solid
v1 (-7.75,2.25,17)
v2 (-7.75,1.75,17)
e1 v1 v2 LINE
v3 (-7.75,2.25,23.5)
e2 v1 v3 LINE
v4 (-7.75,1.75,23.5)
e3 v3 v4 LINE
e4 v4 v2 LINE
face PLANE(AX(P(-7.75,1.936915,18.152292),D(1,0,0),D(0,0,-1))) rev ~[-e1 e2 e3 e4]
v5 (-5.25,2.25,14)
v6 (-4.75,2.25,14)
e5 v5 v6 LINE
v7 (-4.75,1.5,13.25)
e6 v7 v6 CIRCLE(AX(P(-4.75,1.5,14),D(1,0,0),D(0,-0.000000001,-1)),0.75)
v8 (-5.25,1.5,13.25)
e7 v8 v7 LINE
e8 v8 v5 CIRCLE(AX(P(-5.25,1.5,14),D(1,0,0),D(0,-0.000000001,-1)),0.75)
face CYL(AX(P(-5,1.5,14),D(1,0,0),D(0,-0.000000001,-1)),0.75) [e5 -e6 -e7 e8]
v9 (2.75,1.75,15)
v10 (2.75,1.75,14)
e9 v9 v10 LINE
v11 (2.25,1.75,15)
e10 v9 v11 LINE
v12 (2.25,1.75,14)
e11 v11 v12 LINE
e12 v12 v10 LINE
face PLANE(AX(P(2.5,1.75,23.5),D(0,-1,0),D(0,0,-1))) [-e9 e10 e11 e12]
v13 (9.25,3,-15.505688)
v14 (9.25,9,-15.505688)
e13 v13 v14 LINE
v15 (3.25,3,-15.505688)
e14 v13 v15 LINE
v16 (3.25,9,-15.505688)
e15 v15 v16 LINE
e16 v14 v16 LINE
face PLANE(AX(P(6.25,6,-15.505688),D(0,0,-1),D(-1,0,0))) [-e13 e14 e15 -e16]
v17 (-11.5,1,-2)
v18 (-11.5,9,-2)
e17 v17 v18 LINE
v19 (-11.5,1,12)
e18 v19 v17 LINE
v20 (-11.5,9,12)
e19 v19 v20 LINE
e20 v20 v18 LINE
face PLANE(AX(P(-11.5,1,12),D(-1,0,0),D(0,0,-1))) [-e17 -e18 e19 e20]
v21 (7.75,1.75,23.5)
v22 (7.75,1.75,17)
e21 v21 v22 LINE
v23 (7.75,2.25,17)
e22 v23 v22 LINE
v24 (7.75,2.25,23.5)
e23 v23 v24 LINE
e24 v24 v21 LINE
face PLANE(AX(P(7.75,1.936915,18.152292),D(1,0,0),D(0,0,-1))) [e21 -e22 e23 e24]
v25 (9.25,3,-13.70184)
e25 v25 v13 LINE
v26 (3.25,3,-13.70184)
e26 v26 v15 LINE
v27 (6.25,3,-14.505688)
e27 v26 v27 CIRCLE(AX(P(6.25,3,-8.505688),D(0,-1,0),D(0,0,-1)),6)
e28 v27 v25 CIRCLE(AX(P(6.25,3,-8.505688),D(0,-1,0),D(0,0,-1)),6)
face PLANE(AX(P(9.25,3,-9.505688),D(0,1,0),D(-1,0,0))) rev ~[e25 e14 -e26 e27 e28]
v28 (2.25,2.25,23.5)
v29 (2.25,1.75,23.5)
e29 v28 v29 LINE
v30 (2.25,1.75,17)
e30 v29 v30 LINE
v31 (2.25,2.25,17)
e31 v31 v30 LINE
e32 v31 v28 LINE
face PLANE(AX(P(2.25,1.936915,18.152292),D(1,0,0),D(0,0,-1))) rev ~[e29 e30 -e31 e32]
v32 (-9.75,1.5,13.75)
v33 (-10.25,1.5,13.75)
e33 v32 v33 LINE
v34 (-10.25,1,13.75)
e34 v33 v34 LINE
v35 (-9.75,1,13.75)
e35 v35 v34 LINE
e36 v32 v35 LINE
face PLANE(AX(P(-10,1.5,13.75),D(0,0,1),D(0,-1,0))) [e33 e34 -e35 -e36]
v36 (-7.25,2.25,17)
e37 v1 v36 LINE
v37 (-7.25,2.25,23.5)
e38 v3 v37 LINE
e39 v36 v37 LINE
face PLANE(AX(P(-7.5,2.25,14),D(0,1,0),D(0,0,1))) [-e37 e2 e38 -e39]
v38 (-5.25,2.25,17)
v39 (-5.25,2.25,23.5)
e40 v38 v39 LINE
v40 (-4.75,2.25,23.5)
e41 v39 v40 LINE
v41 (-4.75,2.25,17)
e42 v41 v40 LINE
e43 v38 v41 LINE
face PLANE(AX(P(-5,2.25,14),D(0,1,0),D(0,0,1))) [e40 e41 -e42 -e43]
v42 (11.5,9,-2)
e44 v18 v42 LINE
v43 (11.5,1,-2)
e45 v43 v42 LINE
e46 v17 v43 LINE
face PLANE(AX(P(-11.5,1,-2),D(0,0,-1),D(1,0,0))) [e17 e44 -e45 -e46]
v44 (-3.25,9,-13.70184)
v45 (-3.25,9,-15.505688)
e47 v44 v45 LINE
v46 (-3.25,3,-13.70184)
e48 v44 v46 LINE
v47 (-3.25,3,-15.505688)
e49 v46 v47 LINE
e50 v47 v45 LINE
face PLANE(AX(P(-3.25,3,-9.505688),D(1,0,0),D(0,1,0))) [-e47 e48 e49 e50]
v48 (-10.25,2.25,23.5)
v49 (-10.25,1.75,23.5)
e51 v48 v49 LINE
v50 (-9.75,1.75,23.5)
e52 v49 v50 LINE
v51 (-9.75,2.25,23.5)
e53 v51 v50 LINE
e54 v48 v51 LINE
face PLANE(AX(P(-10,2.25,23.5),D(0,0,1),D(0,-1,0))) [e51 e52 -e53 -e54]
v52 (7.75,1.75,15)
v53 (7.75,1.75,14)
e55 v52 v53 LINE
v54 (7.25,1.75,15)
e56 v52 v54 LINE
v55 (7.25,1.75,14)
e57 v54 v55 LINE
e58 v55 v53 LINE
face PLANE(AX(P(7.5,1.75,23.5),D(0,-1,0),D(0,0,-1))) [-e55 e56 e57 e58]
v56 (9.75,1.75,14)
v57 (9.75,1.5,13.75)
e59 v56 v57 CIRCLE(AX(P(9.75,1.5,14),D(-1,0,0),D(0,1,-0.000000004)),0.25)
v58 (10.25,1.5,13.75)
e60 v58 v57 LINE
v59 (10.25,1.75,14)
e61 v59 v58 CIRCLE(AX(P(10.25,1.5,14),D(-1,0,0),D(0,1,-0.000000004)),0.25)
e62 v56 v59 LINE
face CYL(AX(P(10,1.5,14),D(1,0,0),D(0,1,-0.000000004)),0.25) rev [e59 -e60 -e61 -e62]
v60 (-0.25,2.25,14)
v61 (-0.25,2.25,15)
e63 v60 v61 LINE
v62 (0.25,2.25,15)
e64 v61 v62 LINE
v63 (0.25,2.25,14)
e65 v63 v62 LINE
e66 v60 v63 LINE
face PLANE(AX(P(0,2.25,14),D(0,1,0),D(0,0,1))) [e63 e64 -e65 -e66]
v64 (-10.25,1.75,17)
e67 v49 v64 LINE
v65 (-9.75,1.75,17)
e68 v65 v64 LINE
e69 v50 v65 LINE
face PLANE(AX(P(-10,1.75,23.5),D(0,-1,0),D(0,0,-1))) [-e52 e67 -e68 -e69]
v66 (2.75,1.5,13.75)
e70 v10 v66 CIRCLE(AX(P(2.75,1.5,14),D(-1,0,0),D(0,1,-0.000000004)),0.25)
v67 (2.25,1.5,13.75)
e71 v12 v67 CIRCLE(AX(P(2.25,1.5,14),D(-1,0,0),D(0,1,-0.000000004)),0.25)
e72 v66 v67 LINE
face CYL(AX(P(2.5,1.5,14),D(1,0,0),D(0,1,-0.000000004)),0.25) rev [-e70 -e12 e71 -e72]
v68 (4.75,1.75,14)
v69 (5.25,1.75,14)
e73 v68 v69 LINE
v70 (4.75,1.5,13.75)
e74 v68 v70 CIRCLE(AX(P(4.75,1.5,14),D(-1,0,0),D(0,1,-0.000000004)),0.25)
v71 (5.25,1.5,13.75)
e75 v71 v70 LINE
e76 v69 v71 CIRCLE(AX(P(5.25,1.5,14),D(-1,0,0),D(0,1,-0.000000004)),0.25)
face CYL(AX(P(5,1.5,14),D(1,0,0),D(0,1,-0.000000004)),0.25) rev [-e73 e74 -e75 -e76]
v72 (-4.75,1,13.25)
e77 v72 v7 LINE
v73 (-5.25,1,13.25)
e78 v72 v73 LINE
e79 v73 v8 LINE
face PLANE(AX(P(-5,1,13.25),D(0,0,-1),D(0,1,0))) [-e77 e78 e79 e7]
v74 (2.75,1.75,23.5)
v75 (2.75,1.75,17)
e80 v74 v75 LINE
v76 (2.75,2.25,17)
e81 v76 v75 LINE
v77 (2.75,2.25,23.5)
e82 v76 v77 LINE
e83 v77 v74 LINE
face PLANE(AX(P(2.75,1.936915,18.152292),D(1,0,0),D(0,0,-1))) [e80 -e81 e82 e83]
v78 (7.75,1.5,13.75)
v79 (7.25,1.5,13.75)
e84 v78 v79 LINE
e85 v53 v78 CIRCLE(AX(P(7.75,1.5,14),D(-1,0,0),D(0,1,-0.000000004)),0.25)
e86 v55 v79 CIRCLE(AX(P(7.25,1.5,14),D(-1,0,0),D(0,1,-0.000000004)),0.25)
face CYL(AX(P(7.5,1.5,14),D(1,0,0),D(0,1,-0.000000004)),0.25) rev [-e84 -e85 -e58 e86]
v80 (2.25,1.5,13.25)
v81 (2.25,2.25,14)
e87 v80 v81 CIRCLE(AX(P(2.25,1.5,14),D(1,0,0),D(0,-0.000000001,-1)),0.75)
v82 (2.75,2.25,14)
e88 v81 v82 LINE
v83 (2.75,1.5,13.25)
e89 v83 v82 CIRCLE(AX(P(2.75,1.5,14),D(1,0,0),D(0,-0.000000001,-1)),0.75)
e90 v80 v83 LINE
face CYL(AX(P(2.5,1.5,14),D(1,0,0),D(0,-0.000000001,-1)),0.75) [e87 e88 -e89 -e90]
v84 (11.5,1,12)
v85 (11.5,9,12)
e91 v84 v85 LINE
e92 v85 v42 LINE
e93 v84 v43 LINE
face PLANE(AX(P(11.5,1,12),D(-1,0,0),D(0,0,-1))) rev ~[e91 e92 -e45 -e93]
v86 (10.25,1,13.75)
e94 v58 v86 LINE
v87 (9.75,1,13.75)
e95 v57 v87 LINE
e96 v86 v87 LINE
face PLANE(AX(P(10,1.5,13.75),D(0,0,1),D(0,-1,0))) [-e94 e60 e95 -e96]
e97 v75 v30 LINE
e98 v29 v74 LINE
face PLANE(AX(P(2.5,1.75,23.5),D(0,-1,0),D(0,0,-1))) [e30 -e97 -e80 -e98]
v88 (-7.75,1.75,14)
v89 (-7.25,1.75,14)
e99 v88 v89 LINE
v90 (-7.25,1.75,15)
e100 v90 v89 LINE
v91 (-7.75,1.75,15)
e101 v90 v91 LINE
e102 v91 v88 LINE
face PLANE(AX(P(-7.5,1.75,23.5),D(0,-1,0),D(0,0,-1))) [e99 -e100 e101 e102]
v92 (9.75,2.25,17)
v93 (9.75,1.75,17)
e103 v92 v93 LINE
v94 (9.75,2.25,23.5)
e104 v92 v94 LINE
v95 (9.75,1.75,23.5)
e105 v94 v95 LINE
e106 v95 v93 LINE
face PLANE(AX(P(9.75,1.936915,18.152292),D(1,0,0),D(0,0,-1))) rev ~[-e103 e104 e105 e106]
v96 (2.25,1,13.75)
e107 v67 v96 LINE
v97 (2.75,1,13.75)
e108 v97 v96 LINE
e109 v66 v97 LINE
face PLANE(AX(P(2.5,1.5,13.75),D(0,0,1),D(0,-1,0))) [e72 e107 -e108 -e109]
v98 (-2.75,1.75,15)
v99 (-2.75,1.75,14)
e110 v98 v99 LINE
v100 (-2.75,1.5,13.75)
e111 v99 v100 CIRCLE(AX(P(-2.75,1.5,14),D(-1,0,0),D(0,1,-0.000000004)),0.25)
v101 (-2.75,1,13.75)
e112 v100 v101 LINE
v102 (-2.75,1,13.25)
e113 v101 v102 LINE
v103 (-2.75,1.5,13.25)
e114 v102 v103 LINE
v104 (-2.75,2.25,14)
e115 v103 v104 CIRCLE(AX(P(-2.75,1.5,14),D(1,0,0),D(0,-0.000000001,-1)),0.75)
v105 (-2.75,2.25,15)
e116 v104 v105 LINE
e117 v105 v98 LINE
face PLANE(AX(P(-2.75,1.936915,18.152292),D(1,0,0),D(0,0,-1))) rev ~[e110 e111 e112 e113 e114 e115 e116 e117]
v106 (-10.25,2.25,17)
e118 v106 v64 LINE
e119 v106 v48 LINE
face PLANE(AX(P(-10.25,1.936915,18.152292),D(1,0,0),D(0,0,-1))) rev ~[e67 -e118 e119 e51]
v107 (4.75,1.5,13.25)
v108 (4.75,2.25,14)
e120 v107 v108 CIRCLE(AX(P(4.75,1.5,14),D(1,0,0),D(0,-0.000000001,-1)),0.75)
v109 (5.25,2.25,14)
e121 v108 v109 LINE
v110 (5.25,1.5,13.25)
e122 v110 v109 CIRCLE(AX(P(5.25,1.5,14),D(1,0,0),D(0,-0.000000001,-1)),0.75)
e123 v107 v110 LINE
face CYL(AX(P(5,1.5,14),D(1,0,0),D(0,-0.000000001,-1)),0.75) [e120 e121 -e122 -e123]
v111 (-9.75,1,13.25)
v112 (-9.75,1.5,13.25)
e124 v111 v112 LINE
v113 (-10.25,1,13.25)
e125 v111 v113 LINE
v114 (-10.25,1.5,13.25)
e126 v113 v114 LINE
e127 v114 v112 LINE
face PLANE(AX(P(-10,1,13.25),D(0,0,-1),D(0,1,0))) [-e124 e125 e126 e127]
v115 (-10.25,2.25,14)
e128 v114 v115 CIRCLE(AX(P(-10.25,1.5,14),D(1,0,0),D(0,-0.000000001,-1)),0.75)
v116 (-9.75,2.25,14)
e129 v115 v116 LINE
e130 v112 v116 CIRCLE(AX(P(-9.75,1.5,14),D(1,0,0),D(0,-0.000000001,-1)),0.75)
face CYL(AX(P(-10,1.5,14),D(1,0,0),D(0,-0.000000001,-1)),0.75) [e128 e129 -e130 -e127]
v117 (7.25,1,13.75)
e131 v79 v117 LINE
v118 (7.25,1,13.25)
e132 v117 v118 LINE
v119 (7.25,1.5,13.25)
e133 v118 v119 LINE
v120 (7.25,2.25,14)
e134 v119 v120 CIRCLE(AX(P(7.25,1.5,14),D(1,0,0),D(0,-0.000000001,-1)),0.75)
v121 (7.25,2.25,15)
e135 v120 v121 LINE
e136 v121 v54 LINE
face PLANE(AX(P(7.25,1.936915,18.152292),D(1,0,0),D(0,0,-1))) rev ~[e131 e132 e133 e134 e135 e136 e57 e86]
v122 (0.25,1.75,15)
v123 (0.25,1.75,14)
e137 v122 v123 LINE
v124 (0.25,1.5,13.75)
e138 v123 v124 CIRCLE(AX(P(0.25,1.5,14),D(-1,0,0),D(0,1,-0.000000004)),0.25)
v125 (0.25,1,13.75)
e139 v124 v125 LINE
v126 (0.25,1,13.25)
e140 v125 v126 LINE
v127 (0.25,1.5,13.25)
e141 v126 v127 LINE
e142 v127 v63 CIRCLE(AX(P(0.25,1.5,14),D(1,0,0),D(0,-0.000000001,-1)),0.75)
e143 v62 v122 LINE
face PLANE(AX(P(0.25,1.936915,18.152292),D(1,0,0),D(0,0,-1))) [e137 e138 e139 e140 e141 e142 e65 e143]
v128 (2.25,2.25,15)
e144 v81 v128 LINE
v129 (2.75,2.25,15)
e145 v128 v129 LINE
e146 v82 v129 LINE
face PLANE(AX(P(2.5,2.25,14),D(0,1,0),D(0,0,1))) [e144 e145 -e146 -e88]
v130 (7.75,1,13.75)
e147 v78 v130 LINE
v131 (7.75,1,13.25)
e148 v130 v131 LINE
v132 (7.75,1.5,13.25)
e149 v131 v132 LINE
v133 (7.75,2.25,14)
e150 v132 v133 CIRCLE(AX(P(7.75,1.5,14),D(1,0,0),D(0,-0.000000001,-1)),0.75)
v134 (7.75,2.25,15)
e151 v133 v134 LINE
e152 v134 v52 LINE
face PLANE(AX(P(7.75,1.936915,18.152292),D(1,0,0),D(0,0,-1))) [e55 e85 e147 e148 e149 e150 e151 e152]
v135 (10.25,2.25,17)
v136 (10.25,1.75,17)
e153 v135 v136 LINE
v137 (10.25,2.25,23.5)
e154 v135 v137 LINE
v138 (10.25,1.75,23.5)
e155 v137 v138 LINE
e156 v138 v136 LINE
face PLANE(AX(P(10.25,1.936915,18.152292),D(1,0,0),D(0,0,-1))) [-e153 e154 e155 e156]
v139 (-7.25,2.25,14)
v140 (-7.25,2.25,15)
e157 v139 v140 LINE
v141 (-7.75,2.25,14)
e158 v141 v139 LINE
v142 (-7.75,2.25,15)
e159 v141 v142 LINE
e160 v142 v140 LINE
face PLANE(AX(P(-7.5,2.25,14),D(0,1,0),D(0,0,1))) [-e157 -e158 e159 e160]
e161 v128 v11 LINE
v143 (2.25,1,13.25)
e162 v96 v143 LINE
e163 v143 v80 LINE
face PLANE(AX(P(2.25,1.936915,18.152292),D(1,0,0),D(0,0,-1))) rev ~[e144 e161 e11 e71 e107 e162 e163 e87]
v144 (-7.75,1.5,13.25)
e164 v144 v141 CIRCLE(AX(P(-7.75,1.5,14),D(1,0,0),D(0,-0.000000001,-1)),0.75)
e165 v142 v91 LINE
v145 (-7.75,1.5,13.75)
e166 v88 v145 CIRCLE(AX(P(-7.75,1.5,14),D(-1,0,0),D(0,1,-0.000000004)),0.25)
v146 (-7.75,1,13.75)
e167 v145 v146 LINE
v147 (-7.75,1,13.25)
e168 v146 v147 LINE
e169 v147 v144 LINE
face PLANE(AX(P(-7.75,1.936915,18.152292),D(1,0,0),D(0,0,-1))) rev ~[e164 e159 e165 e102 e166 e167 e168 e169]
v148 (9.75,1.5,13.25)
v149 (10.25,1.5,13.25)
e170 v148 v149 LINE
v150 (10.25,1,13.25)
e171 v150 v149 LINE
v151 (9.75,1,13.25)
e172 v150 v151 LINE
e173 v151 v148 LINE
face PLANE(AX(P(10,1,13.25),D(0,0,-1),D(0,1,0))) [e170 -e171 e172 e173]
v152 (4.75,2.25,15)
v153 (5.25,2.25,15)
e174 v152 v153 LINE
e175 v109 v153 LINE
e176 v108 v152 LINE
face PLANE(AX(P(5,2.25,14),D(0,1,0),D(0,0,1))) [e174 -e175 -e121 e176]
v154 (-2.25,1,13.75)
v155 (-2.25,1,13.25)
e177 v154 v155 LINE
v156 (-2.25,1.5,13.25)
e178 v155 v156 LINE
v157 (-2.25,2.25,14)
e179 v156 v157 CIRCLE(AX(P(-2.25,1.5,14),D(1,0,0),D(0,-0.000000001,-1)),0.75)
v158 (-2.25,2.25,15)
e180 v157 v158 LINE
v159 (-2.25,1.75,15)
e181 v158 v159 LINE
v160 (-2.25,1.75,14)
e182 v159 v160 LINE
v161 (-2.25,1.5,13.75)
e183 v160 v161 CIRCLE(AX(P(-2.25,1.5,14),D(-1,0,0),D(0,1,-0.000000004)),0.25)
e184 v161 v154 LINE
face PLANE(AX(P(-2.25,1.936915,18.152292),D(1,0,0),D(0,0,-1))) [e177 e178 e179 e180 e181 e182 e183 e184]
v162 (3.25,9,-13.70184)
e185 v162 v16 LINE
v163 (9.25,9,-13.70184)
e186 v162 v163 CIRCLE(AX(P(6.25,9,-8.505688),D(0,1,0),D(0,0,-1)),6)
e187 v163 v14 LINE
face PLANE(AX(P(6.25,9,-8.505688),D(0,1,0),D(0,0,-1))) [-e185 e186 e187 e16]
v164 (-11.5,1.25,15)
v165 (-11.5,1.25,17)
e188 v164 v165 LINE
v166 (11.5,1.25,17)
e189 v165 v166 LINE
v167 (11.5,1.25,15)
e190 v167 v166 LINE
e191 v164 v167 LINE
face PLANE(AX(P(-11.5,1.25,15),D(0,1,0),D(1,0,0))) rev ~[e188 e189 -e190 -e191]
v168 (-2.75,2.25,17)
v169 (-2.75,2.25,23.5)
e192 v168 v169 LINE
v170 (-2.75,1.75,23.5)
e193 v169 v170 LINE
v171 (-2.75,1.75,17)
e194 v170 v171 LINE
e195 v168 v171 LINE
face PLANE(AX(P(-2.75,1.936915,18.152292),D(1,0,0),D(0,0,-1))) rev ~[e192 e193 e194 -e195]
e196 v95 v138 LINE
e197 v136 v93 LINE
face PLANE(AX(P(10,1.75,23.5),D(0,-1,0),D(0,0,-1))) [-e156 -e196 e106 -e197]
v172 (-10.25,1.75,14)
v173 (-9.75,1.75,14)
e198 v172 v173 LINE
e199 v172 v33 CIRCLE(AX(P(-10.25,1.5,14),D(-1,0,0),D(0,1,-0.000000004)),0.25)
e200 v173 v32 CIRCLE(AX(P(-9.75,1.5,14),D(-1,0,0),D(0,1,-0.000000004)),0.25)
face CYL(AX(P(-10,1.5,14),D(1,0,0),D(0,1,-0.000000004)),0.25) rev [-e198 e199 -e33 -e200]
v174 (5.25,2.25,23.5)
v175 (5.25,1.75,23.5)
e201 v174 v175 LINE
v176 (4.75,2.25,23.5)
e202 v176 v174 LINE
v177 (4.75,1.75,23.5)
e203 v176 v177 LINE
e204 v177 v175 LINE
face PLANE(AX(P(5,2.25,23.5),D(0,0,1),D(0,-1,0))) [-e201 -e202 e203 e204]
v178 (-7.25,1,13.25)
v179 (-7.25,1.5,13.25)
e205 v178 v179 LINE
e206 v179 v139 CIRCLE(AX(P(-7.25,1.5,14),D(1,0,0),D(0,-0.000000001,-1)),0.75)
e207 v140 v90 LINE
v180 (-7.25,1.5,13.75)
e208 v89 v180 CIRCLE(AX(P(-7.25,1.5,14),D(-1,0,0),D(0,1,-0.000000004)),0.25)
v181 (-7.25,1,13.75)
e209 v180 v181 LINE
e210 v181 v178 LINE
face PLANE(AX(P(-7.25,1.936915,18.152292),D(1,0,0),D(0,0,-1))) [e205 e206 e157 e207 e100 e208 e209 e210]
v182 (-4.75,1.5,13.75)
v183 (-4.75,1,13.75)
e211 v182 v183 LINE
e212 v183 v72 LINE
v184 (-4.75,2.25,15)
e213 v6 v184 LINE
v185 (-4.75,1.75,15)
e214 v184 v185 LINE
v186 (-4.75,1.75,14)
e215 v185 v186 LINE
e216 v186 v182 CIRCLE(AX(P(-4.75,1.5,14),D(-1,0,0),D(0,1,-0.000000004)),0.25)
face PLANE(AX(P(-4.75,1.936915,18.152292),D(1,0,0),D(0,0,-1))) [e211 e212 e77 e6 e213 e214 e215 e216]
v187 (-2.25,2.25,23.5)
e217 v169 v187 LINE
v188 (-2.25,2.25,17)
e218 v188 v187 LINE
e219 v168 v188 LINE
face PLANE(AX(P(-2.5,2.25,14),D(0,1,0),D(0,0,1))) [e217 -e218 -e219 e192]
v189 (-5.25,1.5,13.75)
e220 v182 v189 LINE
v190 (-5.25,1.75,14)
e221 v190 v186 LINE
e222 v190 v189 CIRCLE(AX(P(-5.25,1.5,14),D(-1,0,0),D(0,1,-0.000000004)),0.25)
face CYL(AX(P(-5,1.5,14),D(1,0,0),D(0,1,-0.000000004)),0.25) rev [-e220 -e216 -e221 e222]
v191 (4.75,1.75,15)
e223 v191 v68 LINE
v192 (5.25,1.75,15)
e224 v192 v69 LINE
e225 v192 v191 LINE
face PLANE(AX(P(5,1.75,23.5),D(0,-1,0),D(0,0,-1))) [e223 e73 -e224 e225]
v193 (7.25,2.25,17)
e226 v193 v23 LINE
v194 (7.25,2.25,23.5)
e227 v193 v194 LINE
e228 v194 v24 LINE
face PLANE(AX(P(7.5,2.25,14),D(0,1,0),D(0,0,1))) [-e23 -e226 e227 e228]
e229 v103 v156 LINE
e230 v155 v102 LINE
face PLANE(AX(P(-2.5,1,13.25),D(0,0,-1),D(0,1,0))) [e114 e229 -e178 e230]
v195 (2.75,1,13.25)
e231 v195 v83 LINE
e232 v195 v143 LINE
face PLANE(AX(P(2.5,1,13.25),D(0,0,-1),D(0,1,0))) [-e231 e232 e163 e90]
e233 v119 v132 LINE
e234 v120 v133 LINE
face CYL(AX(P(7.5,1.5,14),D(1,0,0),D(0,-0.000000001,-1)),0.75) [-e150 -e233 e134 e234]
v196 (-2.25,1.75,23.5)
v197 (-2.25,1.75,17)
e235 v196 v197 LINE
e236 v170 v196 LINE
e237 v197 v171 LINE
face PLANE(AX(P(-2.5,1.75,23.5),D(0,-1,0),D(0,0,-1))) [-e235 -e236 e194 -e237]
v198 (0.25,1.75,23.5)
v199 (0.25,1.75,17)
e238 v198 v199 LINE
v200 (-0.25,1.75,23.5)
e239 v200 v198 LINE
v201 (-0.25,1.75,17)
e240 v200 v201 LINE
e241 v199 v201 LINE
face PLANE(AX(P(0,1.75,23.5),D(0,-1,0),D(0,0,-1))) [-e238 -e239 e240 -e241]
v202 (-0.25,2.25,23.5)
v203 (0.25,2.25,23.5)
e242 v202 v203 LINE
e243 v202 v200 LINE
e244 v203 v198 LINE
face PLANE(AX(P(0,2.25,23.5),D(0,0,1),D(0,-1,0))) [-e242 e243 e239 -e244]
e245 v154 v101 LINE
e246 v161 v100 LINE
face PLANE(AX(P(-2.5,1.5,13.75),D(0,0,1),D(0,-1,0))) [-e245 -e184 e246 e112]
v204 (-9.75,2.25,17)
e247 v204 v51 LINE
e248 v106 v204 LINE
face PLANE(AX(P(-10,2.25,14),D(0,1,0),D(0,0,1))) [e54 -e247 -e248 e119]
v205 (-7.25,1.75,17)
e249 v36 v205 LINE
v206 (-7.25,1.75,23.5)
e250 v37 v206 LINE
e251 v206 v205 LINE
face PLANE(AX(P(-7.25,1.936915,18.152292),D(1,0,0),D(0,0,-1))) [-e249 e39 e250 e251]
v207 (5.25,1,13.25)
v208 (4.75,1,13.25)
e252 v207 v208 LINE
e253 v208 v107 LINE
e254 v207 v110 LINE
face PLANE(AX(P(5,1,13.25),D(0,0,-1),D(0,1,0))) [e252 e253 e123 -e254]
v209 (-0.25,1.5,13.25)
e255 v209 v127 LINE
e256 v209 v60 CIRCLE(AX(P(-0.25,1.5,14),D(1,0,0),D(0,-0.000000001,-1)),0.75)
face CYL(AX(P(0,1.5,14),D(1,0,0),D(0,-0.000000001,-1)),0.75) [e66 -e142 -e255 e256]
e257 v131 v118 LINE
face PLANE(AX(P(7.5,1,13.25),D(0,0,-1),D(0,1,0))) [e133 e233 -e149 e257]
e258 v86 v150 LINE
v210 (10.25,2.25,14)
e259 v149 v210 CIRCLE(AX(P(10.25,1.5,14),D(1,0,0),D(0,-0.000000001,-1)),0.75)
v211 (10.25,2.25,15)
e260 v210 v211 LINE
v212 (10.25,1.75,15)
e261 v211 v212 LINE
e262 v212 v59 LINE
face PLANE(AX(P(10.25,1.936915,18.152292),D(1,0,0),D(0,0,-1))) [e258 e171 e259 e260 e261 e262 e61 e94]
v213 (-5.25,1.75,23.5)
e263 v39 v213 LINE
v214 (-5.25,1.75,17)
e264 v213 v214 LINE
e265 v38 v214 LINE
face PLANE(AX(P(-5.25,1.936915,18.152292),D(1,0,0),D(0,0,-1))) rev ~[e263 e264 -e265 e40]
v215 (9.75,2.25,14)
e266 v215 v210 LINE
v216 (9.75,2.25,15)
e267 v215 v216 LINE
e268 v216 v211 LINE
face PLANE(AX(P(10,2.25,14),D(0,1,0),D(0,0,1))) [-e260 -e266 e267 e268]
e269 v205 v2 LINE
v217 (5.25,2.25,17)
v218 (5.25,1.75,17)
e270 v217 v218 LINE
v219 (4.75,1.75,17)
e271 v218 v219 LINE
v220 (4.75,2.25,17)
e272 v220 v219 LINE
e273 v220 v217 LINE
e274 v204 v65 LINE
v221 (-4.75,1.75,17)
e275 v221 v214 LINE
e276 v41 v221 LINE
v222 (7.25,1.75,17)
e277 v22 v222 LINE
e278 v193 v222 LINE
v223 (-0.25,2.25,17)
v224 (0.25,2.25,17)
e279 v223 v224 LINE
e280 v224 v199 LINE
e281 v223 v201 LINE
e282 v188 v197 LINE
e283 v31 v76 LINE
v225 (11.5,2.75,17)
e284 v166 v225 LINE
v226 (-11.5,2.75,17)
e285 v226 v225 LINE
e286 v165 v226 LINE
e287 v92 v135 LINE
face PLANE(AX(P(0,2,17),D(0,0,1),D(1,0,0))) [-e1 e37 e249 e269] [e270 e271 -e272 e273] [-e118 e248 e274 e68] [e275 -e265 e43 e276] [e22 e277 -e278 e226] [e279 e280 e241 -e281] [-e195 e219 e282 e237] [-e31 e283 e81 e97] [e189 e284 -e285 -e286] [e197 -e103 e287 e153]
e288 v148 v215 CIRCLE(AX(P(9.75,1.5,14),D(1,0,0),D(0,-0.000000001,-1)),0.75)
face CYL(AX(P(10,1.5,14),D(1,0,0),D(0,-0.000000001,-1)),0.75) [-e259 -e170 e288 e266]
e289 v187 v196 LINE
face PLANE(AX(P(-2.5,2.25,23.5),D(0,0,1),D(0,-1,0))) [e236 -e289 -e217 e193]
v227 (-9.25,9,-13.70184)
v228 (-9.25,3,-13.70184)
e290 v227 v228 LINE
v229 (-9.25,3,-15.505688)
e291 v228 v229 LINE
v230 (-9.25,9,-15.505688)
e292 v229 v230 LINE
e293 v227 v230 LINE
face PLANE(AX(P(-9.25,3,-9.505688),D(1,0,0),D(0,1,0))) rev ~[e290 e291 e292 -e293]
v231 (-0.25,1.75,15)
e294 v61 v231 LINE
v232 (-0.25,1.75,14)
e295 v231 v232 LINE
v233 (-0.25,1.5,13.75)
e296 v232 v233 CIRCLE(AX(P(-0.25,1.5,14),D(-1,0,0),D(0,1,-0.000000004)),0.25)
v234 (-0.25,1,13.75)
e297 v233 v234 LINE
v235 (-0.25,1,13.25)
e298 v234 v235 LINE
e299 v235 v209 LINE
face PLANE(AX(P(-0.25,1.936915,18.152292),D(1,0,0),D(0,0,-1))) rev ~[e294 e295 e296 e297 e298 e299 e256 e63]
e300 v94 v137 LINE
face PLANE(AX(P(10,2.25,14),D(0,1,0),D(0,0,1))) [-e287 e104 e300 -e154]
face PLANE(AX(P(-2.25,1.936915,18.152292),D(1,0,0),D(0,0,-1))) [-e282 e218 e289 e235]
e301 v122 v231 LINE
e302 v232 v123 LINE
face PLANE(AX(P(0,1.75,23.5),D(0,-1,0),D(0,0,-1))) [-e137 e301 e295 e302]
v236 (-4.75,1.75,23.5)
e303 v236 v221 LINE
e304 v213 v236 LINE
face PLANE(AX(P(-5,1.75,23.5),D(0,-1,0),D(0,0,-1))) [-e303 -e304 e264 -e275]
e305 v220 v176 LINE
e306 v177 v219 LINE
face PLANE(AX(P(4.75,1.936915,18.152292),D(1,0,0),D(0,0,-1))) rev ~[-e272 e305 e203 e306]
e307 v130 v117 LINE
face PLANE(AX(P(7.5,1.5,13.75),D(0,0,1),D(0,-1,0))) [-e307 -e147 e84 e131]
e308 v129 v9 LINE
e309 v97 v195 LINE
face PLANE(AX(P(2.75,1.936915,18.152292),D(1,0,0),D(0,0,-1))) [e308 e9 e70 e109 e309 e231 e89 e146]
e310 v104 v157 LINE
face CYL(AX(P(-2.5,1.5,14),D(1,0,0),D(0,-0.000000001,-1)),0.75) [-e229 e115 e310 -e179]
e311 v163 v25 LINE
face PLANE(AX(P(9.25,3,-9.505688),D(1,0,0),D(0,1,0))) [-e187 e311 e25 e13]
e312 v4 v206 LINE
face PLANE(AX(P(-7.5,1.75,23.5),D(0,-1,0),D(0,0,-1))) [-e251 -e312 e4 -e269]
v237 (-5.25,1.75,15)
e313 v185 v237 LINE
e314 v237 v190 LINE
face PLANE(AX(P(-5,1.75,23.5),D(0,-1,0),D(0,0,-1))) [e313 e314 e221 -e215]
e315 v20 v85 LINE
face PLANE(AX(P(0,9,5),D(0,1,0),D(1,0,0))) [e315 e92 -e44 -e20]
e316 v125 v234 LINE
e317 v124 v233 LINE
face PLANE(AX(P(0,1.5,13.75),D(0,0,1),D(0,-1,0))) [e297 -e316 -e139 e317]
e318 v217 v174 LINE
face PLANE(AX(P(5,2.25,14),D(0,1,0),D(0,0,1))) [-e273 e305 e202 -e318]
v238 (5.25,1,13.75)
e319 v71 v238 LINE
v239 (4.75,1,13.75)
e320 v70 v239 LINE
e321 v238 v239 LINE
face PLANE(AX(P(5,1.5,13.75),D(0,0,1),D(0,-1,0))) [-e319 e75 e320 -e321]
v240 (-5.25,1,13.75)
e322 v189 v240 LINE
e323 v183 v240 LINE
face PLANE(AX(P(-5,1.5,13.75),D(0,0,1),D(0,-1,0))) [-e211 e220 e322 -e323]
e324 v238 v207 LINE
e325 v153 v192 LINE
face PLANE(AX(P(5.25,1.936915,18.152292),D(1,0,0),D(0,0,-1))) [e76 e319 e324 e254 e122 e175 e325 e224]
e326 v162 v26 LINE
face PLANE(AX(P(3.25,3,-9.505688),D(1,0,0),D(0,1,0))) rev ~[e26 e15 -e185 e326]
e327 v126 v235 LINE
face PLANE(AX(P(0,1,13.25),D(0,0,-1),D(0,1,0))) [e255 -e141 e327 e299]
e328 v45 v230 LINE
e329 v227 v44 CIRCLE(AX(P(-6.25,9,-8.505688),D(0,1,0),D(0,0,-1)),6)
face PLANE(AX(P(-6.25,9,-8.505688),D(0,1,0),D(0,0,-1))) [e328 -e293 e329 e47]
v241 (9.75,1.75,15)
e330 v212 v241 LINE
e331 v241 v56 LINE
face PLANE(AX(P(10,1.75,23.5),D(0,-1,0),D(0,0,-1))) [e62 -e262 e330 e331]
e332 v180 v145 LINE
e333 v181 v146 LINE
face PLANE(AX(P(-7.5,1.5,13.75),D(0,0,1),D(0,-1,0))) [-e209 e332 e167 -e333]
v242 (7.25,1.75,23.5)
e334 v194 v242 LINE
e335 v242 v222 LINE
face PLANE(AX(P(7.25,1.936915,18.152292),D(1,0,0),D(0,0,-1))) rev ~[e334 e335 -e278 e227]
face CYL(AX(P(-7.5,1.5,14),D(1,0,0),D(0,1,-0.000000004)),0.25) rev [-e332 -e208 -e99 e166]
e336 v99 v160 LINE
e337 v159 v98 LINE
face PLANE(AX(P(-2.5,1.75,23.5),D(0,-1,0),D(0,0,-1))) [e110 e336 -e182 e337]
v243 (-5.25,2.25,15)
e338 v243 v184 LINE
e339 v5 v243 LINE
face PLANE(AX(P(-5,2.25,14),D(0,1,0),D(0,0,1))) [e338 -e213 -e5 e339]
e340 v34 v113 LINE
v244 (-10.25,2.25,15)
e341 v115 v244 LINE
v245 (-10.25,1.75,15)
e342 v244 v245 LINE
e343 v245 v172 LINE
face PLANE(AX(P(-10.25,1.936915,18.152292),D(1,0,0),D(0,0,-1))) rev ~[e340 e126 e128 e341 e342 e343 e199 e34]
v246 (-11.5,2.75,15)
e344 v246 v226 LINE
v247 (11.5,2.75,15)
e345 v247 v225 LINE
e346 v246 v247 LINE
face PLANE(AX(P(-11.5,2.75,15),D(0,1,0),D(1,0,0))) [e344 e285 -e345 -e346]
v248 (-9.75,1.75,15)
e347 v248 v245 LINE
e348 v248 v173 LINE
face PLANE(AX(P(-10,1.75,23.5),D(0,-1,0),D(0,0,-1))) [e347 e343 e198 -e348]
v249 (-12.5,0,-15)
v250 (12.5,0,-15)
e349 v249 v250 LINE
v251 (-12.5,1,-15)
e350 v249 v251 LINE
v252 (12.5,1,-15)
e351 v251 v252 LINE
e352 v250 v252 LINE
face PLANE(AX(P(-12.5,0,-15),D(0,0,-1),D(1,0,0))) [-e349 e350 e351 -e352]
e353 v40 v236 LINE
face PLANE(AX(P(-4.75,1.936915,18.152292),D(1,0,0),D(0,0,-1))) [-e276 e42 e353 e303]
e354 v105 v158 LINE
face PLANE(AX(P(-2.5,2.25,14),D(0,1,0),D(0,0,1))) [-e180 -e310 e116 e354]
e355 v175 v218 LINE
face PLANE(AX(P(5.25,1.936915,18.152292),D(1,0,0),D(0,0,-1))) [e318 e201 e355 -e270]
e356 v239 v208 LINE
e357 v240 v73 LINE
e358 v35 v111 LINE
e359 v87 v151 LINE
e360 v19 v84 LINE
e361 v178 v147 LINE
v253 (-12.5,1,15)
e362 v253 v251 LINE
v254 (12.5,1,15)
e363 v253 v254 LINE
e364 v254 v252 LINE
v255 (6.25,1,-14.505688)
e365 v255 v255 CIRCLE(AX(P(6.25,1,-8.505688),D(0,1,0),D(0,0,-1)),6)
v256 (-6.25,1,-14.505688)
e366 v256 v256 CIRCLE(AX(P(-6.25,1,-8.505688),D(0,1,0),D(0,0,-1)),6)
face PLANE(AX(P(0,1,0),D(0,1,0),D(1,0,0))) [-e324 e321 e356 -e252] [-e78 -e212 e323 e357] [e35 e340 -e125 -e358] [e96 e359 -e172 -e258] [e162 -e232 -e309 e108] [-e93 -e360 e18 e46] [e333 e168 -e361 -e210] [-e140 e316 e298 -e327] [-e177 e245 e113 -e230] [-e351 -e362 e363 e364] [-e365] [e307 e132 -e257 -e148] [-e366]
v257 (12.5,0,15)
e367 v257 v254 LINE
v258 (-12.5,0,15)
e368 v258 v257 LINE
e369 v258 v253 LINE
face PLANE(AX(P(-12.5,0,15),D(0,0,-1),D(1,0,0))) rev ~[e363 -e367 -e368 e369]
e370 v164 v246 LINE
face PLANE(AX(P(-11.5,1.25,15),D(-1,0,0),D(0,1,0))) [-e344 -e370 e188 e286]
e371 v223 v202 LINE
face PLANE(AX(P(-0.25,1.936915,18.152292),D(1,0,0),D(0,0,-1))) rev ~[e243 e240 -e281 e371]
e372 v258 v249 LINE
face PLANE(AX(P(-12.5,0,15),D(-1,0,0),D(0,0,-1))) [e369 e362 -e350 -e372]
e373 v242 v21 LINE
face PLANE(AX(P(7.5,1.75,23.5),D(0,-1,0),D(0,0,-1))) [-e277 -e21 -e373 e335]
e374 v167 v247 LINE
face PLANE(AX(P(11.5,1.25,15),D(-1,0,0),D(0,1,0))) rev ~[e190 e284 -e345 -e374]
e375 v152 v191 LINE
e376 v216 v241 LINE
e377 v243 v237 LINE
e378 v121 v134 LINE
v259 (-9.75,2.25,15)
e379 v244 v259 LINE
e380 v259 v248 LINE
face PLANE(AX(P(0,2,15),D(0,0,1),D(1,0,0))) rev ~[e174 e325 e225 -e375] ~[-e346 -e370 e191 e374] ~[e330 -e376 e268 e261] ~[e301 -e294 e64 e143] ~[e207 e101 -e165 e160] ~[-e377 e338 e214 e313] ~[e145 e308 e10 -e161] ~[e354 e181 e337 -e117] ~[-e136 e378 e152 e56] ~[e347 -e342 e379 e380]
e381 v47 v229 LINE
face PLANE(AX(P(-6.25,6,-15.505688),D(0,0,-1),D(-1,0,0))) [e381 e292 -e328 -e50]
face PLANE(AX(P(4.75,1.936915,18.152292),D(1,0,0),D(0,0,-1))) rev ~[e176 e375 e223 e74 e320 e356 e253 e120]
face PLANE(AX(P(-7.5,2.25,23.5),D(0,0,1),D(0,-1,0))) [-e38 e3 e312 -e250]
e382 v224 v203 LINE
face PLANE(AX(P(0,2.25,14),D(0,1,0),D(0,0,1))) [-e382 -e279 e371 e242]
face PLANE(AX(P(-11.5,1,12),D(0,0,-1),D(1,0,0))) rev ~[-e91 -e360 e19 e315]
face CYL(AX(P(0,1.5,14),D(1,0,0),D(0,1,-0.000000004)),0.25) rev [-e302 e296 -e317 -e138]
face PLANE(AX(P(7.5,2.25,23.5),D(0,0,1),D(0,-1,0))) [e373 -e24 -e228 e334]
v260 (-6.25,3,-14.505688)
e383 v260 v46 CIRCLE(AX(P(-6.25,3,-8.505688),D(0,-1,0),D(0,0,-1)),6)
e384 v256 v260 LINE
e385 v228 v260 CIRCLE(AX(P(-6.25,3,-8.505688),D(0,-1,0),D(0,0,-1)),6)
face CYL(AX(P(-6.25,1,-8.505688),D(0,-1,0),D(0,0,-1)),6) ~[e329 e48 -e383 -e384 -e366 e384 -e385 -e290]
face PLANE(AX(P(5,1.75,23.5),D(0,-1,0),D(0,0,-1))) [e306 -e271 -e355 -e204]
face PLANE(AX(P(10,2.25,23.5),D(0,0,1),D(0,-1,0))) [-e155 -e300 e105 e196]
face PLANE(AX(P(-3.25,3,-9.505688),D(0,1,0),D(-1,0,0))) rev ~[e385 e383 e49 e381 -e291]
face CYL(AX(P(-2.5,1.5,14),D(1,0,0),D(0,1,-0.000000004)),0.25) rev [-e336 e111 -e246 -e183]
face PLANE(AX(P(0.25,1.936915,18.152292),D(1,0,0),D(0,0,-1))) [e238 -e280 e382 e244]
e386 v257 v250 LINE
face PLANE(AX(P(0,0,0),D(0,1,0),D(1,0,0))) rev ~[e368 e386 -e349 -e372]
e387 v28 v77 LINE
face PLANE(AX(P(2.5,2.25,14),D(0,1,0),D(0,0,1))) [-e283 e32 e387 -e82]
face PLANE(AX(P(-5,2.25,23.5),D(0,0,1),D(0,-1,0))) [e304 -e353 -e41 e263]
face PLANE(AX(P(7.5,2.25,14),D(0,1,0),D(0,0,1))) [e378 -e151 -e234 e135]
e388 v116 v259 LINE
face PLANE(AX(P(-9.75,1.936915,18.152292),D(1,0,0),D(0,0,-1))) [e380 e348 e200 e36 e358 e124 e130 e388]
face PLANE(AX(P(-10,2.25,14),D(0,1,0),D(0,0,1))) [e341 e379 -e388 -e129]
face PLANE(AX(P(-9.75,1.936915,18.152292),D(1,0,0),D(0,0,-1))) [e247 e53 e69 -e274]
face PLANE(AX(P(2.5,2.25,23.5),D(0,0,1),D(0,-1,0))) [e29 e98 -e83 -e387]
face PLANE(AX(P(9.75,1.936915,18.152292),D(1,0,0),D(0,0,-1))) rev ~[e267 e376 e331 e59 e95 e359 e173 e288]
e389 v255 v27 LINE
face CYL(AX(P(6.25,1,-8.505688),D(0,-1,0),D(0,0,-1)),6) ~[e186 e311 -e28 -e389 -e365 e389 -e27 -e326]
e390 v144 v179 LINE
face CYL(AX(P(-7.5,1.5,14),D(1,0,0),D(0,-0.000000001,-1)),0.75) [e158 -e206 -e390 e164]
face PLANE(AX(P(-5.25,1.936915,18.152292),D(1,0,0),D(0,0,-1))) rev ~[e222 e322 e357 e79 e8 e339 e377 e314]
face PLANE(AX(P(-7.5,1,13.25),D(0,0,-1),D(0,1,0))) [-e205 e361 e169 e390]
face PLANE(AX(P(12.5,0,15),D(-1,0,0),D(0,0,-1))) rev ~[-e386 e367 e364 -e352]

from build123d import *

# Parameters (mm, degrees)
SKIZZE1_W                 = 25
SKIZZE1_H                 = 30
GRUNDPLATTE_DEPTH         = 1
SKIZZE2_W                 = 23
SKIZZE2_H                 = 14
ZIFFERNBLATT_DEPTH        = 8
SKIZZE3_R                 = 6
BUZZER1_DEPTH             = 8
BUZZER2_DEPTH             = 1
BUZZER2_DEPTH_BACK        = 5
SKIZZE4_W                 = 6
SKIZZE4_H                 = 6
KONTAKTSTIFT_DEPTH        = 0.25
MUSTER_KONTAKTSTIFT_COUNT = 9
MUSTER_KONTAKTSTIFT_PITCH = 2.5
SKIZZE6_W                 = 23
SKIZZE6_H                 = 1.5
BUCHSENANSCHLAG_DEPTH     = 2


with BuildPart() as part:
    # Skizze1 → Grundplatte (new body)
    with BuildSketch(Plane(origin=(0, 0, 0), x_dir=(1, 0, 0), z_dir=(0, 1, 0))):
        Rectangle(SKIZZE1_W, SKIZZE1_H)
    extrude(amount=GRUNDPLATTE_DEPTH)

    # Skizze2 → Ziffernblatt (add)
    with BuildSketch(Plane(origin=(0, 1, 0), x_dir=(1, 0, 0), z_dir=(0, 1, 0))):
        with Locations((0, -5)):
            Rectangle(SKIZZE2_W, SKIZZE2_H)
    extrude(amount=ZIFFERNBLATT_DEPTH)

    # Skizze3 → Buzzer1 (add)
    with BuildSketch(Plane(origin=(0, 1, 0), x_dir=(1, 0, 0), z_dir=(0, 1, 0))):
        with Locations(Location((-6.25, 8.505687735, 0), (0, 0, 90))):
            Circle(SKIZZE3_R)
        with Locations(Location((6.25, 8.505687735, 0), (0, 0, 90))):
            Circle(SKIZZE3_R)
    extrude(amount=BUZZER1_DEPTH)

    # Skizze4 → Buzzer2 (add, two sides: drawn at the far end of the back side and taken through both)
    with BuildSketch(Plane(origin=(0, 0, -14.505687735), x_dir=(-1, 0, 0), z_dir=(0, 0, -1)).offset(-BUZZER2_DEPTH_BACK)):
        with Locations((-6.25, 6)):
            Rectangle(SKIZZE4_W, SKIZZE4_H)
        with Locations((6.25, 6)):
            Rectangle(SKIZZE4_W, SKIZZE4_H)
    extrude(amount=BUZZER2_DEPTH + BUZZER2_DEPTH_BACK)

    # Skizze5 → Kontaktstift (add, symmetric)
    with BuildSketch(Plane(origin=(10, 0, 0), x_dir=(0, 0, -1), z_dir=(1, 0, 0))):
        with BuildLine():
            Line((-13.25, 1), (-13.25, 1.5))
            ThreePointArc((-13.25, 1.5), (-13.469669914, 2.030330086), (-14, 2.25))
            Line((-14, 2.25), (-23.5, 2.25))
            Line((-23.5, 2.25), (-23.5, 1.75))
            Line((-23.5, 1.75), (-14, 1.75))
            ThreePointArc((-14, 1.75), (-13.823223305, 1.676776695), (-13.75, 1.5))
            Line((-13.75, 1.5), (-13.75, 1))
            Line((-13.75, 1), (-13.25, 1))
        make_face()
    kontaktstift = extrude(amount=KONTAKTSTIFT_DEPTH, both=True)

    # Muster_Kontaktstift: Kontaktstift ×9
    with Locations(*[(-i * MUSTER_KONTAKTSTIFT_PITCH, 0, 0) for i in range(1, MUSTER_KONTAKTSTIFT_COUNT)]):
        add(kontaktstift)

    # Skizze6 → Buchsenanschlag (add)
    with BuildSketch(Plane.XY.offset(15)):
        with Locations((0, 2)):
            Rectangle(SKIZZE6_W, SKIZZE6_H)
    extrude(amount=BUCHSENANSCHLAG_DEPTH)


solid = part.part
